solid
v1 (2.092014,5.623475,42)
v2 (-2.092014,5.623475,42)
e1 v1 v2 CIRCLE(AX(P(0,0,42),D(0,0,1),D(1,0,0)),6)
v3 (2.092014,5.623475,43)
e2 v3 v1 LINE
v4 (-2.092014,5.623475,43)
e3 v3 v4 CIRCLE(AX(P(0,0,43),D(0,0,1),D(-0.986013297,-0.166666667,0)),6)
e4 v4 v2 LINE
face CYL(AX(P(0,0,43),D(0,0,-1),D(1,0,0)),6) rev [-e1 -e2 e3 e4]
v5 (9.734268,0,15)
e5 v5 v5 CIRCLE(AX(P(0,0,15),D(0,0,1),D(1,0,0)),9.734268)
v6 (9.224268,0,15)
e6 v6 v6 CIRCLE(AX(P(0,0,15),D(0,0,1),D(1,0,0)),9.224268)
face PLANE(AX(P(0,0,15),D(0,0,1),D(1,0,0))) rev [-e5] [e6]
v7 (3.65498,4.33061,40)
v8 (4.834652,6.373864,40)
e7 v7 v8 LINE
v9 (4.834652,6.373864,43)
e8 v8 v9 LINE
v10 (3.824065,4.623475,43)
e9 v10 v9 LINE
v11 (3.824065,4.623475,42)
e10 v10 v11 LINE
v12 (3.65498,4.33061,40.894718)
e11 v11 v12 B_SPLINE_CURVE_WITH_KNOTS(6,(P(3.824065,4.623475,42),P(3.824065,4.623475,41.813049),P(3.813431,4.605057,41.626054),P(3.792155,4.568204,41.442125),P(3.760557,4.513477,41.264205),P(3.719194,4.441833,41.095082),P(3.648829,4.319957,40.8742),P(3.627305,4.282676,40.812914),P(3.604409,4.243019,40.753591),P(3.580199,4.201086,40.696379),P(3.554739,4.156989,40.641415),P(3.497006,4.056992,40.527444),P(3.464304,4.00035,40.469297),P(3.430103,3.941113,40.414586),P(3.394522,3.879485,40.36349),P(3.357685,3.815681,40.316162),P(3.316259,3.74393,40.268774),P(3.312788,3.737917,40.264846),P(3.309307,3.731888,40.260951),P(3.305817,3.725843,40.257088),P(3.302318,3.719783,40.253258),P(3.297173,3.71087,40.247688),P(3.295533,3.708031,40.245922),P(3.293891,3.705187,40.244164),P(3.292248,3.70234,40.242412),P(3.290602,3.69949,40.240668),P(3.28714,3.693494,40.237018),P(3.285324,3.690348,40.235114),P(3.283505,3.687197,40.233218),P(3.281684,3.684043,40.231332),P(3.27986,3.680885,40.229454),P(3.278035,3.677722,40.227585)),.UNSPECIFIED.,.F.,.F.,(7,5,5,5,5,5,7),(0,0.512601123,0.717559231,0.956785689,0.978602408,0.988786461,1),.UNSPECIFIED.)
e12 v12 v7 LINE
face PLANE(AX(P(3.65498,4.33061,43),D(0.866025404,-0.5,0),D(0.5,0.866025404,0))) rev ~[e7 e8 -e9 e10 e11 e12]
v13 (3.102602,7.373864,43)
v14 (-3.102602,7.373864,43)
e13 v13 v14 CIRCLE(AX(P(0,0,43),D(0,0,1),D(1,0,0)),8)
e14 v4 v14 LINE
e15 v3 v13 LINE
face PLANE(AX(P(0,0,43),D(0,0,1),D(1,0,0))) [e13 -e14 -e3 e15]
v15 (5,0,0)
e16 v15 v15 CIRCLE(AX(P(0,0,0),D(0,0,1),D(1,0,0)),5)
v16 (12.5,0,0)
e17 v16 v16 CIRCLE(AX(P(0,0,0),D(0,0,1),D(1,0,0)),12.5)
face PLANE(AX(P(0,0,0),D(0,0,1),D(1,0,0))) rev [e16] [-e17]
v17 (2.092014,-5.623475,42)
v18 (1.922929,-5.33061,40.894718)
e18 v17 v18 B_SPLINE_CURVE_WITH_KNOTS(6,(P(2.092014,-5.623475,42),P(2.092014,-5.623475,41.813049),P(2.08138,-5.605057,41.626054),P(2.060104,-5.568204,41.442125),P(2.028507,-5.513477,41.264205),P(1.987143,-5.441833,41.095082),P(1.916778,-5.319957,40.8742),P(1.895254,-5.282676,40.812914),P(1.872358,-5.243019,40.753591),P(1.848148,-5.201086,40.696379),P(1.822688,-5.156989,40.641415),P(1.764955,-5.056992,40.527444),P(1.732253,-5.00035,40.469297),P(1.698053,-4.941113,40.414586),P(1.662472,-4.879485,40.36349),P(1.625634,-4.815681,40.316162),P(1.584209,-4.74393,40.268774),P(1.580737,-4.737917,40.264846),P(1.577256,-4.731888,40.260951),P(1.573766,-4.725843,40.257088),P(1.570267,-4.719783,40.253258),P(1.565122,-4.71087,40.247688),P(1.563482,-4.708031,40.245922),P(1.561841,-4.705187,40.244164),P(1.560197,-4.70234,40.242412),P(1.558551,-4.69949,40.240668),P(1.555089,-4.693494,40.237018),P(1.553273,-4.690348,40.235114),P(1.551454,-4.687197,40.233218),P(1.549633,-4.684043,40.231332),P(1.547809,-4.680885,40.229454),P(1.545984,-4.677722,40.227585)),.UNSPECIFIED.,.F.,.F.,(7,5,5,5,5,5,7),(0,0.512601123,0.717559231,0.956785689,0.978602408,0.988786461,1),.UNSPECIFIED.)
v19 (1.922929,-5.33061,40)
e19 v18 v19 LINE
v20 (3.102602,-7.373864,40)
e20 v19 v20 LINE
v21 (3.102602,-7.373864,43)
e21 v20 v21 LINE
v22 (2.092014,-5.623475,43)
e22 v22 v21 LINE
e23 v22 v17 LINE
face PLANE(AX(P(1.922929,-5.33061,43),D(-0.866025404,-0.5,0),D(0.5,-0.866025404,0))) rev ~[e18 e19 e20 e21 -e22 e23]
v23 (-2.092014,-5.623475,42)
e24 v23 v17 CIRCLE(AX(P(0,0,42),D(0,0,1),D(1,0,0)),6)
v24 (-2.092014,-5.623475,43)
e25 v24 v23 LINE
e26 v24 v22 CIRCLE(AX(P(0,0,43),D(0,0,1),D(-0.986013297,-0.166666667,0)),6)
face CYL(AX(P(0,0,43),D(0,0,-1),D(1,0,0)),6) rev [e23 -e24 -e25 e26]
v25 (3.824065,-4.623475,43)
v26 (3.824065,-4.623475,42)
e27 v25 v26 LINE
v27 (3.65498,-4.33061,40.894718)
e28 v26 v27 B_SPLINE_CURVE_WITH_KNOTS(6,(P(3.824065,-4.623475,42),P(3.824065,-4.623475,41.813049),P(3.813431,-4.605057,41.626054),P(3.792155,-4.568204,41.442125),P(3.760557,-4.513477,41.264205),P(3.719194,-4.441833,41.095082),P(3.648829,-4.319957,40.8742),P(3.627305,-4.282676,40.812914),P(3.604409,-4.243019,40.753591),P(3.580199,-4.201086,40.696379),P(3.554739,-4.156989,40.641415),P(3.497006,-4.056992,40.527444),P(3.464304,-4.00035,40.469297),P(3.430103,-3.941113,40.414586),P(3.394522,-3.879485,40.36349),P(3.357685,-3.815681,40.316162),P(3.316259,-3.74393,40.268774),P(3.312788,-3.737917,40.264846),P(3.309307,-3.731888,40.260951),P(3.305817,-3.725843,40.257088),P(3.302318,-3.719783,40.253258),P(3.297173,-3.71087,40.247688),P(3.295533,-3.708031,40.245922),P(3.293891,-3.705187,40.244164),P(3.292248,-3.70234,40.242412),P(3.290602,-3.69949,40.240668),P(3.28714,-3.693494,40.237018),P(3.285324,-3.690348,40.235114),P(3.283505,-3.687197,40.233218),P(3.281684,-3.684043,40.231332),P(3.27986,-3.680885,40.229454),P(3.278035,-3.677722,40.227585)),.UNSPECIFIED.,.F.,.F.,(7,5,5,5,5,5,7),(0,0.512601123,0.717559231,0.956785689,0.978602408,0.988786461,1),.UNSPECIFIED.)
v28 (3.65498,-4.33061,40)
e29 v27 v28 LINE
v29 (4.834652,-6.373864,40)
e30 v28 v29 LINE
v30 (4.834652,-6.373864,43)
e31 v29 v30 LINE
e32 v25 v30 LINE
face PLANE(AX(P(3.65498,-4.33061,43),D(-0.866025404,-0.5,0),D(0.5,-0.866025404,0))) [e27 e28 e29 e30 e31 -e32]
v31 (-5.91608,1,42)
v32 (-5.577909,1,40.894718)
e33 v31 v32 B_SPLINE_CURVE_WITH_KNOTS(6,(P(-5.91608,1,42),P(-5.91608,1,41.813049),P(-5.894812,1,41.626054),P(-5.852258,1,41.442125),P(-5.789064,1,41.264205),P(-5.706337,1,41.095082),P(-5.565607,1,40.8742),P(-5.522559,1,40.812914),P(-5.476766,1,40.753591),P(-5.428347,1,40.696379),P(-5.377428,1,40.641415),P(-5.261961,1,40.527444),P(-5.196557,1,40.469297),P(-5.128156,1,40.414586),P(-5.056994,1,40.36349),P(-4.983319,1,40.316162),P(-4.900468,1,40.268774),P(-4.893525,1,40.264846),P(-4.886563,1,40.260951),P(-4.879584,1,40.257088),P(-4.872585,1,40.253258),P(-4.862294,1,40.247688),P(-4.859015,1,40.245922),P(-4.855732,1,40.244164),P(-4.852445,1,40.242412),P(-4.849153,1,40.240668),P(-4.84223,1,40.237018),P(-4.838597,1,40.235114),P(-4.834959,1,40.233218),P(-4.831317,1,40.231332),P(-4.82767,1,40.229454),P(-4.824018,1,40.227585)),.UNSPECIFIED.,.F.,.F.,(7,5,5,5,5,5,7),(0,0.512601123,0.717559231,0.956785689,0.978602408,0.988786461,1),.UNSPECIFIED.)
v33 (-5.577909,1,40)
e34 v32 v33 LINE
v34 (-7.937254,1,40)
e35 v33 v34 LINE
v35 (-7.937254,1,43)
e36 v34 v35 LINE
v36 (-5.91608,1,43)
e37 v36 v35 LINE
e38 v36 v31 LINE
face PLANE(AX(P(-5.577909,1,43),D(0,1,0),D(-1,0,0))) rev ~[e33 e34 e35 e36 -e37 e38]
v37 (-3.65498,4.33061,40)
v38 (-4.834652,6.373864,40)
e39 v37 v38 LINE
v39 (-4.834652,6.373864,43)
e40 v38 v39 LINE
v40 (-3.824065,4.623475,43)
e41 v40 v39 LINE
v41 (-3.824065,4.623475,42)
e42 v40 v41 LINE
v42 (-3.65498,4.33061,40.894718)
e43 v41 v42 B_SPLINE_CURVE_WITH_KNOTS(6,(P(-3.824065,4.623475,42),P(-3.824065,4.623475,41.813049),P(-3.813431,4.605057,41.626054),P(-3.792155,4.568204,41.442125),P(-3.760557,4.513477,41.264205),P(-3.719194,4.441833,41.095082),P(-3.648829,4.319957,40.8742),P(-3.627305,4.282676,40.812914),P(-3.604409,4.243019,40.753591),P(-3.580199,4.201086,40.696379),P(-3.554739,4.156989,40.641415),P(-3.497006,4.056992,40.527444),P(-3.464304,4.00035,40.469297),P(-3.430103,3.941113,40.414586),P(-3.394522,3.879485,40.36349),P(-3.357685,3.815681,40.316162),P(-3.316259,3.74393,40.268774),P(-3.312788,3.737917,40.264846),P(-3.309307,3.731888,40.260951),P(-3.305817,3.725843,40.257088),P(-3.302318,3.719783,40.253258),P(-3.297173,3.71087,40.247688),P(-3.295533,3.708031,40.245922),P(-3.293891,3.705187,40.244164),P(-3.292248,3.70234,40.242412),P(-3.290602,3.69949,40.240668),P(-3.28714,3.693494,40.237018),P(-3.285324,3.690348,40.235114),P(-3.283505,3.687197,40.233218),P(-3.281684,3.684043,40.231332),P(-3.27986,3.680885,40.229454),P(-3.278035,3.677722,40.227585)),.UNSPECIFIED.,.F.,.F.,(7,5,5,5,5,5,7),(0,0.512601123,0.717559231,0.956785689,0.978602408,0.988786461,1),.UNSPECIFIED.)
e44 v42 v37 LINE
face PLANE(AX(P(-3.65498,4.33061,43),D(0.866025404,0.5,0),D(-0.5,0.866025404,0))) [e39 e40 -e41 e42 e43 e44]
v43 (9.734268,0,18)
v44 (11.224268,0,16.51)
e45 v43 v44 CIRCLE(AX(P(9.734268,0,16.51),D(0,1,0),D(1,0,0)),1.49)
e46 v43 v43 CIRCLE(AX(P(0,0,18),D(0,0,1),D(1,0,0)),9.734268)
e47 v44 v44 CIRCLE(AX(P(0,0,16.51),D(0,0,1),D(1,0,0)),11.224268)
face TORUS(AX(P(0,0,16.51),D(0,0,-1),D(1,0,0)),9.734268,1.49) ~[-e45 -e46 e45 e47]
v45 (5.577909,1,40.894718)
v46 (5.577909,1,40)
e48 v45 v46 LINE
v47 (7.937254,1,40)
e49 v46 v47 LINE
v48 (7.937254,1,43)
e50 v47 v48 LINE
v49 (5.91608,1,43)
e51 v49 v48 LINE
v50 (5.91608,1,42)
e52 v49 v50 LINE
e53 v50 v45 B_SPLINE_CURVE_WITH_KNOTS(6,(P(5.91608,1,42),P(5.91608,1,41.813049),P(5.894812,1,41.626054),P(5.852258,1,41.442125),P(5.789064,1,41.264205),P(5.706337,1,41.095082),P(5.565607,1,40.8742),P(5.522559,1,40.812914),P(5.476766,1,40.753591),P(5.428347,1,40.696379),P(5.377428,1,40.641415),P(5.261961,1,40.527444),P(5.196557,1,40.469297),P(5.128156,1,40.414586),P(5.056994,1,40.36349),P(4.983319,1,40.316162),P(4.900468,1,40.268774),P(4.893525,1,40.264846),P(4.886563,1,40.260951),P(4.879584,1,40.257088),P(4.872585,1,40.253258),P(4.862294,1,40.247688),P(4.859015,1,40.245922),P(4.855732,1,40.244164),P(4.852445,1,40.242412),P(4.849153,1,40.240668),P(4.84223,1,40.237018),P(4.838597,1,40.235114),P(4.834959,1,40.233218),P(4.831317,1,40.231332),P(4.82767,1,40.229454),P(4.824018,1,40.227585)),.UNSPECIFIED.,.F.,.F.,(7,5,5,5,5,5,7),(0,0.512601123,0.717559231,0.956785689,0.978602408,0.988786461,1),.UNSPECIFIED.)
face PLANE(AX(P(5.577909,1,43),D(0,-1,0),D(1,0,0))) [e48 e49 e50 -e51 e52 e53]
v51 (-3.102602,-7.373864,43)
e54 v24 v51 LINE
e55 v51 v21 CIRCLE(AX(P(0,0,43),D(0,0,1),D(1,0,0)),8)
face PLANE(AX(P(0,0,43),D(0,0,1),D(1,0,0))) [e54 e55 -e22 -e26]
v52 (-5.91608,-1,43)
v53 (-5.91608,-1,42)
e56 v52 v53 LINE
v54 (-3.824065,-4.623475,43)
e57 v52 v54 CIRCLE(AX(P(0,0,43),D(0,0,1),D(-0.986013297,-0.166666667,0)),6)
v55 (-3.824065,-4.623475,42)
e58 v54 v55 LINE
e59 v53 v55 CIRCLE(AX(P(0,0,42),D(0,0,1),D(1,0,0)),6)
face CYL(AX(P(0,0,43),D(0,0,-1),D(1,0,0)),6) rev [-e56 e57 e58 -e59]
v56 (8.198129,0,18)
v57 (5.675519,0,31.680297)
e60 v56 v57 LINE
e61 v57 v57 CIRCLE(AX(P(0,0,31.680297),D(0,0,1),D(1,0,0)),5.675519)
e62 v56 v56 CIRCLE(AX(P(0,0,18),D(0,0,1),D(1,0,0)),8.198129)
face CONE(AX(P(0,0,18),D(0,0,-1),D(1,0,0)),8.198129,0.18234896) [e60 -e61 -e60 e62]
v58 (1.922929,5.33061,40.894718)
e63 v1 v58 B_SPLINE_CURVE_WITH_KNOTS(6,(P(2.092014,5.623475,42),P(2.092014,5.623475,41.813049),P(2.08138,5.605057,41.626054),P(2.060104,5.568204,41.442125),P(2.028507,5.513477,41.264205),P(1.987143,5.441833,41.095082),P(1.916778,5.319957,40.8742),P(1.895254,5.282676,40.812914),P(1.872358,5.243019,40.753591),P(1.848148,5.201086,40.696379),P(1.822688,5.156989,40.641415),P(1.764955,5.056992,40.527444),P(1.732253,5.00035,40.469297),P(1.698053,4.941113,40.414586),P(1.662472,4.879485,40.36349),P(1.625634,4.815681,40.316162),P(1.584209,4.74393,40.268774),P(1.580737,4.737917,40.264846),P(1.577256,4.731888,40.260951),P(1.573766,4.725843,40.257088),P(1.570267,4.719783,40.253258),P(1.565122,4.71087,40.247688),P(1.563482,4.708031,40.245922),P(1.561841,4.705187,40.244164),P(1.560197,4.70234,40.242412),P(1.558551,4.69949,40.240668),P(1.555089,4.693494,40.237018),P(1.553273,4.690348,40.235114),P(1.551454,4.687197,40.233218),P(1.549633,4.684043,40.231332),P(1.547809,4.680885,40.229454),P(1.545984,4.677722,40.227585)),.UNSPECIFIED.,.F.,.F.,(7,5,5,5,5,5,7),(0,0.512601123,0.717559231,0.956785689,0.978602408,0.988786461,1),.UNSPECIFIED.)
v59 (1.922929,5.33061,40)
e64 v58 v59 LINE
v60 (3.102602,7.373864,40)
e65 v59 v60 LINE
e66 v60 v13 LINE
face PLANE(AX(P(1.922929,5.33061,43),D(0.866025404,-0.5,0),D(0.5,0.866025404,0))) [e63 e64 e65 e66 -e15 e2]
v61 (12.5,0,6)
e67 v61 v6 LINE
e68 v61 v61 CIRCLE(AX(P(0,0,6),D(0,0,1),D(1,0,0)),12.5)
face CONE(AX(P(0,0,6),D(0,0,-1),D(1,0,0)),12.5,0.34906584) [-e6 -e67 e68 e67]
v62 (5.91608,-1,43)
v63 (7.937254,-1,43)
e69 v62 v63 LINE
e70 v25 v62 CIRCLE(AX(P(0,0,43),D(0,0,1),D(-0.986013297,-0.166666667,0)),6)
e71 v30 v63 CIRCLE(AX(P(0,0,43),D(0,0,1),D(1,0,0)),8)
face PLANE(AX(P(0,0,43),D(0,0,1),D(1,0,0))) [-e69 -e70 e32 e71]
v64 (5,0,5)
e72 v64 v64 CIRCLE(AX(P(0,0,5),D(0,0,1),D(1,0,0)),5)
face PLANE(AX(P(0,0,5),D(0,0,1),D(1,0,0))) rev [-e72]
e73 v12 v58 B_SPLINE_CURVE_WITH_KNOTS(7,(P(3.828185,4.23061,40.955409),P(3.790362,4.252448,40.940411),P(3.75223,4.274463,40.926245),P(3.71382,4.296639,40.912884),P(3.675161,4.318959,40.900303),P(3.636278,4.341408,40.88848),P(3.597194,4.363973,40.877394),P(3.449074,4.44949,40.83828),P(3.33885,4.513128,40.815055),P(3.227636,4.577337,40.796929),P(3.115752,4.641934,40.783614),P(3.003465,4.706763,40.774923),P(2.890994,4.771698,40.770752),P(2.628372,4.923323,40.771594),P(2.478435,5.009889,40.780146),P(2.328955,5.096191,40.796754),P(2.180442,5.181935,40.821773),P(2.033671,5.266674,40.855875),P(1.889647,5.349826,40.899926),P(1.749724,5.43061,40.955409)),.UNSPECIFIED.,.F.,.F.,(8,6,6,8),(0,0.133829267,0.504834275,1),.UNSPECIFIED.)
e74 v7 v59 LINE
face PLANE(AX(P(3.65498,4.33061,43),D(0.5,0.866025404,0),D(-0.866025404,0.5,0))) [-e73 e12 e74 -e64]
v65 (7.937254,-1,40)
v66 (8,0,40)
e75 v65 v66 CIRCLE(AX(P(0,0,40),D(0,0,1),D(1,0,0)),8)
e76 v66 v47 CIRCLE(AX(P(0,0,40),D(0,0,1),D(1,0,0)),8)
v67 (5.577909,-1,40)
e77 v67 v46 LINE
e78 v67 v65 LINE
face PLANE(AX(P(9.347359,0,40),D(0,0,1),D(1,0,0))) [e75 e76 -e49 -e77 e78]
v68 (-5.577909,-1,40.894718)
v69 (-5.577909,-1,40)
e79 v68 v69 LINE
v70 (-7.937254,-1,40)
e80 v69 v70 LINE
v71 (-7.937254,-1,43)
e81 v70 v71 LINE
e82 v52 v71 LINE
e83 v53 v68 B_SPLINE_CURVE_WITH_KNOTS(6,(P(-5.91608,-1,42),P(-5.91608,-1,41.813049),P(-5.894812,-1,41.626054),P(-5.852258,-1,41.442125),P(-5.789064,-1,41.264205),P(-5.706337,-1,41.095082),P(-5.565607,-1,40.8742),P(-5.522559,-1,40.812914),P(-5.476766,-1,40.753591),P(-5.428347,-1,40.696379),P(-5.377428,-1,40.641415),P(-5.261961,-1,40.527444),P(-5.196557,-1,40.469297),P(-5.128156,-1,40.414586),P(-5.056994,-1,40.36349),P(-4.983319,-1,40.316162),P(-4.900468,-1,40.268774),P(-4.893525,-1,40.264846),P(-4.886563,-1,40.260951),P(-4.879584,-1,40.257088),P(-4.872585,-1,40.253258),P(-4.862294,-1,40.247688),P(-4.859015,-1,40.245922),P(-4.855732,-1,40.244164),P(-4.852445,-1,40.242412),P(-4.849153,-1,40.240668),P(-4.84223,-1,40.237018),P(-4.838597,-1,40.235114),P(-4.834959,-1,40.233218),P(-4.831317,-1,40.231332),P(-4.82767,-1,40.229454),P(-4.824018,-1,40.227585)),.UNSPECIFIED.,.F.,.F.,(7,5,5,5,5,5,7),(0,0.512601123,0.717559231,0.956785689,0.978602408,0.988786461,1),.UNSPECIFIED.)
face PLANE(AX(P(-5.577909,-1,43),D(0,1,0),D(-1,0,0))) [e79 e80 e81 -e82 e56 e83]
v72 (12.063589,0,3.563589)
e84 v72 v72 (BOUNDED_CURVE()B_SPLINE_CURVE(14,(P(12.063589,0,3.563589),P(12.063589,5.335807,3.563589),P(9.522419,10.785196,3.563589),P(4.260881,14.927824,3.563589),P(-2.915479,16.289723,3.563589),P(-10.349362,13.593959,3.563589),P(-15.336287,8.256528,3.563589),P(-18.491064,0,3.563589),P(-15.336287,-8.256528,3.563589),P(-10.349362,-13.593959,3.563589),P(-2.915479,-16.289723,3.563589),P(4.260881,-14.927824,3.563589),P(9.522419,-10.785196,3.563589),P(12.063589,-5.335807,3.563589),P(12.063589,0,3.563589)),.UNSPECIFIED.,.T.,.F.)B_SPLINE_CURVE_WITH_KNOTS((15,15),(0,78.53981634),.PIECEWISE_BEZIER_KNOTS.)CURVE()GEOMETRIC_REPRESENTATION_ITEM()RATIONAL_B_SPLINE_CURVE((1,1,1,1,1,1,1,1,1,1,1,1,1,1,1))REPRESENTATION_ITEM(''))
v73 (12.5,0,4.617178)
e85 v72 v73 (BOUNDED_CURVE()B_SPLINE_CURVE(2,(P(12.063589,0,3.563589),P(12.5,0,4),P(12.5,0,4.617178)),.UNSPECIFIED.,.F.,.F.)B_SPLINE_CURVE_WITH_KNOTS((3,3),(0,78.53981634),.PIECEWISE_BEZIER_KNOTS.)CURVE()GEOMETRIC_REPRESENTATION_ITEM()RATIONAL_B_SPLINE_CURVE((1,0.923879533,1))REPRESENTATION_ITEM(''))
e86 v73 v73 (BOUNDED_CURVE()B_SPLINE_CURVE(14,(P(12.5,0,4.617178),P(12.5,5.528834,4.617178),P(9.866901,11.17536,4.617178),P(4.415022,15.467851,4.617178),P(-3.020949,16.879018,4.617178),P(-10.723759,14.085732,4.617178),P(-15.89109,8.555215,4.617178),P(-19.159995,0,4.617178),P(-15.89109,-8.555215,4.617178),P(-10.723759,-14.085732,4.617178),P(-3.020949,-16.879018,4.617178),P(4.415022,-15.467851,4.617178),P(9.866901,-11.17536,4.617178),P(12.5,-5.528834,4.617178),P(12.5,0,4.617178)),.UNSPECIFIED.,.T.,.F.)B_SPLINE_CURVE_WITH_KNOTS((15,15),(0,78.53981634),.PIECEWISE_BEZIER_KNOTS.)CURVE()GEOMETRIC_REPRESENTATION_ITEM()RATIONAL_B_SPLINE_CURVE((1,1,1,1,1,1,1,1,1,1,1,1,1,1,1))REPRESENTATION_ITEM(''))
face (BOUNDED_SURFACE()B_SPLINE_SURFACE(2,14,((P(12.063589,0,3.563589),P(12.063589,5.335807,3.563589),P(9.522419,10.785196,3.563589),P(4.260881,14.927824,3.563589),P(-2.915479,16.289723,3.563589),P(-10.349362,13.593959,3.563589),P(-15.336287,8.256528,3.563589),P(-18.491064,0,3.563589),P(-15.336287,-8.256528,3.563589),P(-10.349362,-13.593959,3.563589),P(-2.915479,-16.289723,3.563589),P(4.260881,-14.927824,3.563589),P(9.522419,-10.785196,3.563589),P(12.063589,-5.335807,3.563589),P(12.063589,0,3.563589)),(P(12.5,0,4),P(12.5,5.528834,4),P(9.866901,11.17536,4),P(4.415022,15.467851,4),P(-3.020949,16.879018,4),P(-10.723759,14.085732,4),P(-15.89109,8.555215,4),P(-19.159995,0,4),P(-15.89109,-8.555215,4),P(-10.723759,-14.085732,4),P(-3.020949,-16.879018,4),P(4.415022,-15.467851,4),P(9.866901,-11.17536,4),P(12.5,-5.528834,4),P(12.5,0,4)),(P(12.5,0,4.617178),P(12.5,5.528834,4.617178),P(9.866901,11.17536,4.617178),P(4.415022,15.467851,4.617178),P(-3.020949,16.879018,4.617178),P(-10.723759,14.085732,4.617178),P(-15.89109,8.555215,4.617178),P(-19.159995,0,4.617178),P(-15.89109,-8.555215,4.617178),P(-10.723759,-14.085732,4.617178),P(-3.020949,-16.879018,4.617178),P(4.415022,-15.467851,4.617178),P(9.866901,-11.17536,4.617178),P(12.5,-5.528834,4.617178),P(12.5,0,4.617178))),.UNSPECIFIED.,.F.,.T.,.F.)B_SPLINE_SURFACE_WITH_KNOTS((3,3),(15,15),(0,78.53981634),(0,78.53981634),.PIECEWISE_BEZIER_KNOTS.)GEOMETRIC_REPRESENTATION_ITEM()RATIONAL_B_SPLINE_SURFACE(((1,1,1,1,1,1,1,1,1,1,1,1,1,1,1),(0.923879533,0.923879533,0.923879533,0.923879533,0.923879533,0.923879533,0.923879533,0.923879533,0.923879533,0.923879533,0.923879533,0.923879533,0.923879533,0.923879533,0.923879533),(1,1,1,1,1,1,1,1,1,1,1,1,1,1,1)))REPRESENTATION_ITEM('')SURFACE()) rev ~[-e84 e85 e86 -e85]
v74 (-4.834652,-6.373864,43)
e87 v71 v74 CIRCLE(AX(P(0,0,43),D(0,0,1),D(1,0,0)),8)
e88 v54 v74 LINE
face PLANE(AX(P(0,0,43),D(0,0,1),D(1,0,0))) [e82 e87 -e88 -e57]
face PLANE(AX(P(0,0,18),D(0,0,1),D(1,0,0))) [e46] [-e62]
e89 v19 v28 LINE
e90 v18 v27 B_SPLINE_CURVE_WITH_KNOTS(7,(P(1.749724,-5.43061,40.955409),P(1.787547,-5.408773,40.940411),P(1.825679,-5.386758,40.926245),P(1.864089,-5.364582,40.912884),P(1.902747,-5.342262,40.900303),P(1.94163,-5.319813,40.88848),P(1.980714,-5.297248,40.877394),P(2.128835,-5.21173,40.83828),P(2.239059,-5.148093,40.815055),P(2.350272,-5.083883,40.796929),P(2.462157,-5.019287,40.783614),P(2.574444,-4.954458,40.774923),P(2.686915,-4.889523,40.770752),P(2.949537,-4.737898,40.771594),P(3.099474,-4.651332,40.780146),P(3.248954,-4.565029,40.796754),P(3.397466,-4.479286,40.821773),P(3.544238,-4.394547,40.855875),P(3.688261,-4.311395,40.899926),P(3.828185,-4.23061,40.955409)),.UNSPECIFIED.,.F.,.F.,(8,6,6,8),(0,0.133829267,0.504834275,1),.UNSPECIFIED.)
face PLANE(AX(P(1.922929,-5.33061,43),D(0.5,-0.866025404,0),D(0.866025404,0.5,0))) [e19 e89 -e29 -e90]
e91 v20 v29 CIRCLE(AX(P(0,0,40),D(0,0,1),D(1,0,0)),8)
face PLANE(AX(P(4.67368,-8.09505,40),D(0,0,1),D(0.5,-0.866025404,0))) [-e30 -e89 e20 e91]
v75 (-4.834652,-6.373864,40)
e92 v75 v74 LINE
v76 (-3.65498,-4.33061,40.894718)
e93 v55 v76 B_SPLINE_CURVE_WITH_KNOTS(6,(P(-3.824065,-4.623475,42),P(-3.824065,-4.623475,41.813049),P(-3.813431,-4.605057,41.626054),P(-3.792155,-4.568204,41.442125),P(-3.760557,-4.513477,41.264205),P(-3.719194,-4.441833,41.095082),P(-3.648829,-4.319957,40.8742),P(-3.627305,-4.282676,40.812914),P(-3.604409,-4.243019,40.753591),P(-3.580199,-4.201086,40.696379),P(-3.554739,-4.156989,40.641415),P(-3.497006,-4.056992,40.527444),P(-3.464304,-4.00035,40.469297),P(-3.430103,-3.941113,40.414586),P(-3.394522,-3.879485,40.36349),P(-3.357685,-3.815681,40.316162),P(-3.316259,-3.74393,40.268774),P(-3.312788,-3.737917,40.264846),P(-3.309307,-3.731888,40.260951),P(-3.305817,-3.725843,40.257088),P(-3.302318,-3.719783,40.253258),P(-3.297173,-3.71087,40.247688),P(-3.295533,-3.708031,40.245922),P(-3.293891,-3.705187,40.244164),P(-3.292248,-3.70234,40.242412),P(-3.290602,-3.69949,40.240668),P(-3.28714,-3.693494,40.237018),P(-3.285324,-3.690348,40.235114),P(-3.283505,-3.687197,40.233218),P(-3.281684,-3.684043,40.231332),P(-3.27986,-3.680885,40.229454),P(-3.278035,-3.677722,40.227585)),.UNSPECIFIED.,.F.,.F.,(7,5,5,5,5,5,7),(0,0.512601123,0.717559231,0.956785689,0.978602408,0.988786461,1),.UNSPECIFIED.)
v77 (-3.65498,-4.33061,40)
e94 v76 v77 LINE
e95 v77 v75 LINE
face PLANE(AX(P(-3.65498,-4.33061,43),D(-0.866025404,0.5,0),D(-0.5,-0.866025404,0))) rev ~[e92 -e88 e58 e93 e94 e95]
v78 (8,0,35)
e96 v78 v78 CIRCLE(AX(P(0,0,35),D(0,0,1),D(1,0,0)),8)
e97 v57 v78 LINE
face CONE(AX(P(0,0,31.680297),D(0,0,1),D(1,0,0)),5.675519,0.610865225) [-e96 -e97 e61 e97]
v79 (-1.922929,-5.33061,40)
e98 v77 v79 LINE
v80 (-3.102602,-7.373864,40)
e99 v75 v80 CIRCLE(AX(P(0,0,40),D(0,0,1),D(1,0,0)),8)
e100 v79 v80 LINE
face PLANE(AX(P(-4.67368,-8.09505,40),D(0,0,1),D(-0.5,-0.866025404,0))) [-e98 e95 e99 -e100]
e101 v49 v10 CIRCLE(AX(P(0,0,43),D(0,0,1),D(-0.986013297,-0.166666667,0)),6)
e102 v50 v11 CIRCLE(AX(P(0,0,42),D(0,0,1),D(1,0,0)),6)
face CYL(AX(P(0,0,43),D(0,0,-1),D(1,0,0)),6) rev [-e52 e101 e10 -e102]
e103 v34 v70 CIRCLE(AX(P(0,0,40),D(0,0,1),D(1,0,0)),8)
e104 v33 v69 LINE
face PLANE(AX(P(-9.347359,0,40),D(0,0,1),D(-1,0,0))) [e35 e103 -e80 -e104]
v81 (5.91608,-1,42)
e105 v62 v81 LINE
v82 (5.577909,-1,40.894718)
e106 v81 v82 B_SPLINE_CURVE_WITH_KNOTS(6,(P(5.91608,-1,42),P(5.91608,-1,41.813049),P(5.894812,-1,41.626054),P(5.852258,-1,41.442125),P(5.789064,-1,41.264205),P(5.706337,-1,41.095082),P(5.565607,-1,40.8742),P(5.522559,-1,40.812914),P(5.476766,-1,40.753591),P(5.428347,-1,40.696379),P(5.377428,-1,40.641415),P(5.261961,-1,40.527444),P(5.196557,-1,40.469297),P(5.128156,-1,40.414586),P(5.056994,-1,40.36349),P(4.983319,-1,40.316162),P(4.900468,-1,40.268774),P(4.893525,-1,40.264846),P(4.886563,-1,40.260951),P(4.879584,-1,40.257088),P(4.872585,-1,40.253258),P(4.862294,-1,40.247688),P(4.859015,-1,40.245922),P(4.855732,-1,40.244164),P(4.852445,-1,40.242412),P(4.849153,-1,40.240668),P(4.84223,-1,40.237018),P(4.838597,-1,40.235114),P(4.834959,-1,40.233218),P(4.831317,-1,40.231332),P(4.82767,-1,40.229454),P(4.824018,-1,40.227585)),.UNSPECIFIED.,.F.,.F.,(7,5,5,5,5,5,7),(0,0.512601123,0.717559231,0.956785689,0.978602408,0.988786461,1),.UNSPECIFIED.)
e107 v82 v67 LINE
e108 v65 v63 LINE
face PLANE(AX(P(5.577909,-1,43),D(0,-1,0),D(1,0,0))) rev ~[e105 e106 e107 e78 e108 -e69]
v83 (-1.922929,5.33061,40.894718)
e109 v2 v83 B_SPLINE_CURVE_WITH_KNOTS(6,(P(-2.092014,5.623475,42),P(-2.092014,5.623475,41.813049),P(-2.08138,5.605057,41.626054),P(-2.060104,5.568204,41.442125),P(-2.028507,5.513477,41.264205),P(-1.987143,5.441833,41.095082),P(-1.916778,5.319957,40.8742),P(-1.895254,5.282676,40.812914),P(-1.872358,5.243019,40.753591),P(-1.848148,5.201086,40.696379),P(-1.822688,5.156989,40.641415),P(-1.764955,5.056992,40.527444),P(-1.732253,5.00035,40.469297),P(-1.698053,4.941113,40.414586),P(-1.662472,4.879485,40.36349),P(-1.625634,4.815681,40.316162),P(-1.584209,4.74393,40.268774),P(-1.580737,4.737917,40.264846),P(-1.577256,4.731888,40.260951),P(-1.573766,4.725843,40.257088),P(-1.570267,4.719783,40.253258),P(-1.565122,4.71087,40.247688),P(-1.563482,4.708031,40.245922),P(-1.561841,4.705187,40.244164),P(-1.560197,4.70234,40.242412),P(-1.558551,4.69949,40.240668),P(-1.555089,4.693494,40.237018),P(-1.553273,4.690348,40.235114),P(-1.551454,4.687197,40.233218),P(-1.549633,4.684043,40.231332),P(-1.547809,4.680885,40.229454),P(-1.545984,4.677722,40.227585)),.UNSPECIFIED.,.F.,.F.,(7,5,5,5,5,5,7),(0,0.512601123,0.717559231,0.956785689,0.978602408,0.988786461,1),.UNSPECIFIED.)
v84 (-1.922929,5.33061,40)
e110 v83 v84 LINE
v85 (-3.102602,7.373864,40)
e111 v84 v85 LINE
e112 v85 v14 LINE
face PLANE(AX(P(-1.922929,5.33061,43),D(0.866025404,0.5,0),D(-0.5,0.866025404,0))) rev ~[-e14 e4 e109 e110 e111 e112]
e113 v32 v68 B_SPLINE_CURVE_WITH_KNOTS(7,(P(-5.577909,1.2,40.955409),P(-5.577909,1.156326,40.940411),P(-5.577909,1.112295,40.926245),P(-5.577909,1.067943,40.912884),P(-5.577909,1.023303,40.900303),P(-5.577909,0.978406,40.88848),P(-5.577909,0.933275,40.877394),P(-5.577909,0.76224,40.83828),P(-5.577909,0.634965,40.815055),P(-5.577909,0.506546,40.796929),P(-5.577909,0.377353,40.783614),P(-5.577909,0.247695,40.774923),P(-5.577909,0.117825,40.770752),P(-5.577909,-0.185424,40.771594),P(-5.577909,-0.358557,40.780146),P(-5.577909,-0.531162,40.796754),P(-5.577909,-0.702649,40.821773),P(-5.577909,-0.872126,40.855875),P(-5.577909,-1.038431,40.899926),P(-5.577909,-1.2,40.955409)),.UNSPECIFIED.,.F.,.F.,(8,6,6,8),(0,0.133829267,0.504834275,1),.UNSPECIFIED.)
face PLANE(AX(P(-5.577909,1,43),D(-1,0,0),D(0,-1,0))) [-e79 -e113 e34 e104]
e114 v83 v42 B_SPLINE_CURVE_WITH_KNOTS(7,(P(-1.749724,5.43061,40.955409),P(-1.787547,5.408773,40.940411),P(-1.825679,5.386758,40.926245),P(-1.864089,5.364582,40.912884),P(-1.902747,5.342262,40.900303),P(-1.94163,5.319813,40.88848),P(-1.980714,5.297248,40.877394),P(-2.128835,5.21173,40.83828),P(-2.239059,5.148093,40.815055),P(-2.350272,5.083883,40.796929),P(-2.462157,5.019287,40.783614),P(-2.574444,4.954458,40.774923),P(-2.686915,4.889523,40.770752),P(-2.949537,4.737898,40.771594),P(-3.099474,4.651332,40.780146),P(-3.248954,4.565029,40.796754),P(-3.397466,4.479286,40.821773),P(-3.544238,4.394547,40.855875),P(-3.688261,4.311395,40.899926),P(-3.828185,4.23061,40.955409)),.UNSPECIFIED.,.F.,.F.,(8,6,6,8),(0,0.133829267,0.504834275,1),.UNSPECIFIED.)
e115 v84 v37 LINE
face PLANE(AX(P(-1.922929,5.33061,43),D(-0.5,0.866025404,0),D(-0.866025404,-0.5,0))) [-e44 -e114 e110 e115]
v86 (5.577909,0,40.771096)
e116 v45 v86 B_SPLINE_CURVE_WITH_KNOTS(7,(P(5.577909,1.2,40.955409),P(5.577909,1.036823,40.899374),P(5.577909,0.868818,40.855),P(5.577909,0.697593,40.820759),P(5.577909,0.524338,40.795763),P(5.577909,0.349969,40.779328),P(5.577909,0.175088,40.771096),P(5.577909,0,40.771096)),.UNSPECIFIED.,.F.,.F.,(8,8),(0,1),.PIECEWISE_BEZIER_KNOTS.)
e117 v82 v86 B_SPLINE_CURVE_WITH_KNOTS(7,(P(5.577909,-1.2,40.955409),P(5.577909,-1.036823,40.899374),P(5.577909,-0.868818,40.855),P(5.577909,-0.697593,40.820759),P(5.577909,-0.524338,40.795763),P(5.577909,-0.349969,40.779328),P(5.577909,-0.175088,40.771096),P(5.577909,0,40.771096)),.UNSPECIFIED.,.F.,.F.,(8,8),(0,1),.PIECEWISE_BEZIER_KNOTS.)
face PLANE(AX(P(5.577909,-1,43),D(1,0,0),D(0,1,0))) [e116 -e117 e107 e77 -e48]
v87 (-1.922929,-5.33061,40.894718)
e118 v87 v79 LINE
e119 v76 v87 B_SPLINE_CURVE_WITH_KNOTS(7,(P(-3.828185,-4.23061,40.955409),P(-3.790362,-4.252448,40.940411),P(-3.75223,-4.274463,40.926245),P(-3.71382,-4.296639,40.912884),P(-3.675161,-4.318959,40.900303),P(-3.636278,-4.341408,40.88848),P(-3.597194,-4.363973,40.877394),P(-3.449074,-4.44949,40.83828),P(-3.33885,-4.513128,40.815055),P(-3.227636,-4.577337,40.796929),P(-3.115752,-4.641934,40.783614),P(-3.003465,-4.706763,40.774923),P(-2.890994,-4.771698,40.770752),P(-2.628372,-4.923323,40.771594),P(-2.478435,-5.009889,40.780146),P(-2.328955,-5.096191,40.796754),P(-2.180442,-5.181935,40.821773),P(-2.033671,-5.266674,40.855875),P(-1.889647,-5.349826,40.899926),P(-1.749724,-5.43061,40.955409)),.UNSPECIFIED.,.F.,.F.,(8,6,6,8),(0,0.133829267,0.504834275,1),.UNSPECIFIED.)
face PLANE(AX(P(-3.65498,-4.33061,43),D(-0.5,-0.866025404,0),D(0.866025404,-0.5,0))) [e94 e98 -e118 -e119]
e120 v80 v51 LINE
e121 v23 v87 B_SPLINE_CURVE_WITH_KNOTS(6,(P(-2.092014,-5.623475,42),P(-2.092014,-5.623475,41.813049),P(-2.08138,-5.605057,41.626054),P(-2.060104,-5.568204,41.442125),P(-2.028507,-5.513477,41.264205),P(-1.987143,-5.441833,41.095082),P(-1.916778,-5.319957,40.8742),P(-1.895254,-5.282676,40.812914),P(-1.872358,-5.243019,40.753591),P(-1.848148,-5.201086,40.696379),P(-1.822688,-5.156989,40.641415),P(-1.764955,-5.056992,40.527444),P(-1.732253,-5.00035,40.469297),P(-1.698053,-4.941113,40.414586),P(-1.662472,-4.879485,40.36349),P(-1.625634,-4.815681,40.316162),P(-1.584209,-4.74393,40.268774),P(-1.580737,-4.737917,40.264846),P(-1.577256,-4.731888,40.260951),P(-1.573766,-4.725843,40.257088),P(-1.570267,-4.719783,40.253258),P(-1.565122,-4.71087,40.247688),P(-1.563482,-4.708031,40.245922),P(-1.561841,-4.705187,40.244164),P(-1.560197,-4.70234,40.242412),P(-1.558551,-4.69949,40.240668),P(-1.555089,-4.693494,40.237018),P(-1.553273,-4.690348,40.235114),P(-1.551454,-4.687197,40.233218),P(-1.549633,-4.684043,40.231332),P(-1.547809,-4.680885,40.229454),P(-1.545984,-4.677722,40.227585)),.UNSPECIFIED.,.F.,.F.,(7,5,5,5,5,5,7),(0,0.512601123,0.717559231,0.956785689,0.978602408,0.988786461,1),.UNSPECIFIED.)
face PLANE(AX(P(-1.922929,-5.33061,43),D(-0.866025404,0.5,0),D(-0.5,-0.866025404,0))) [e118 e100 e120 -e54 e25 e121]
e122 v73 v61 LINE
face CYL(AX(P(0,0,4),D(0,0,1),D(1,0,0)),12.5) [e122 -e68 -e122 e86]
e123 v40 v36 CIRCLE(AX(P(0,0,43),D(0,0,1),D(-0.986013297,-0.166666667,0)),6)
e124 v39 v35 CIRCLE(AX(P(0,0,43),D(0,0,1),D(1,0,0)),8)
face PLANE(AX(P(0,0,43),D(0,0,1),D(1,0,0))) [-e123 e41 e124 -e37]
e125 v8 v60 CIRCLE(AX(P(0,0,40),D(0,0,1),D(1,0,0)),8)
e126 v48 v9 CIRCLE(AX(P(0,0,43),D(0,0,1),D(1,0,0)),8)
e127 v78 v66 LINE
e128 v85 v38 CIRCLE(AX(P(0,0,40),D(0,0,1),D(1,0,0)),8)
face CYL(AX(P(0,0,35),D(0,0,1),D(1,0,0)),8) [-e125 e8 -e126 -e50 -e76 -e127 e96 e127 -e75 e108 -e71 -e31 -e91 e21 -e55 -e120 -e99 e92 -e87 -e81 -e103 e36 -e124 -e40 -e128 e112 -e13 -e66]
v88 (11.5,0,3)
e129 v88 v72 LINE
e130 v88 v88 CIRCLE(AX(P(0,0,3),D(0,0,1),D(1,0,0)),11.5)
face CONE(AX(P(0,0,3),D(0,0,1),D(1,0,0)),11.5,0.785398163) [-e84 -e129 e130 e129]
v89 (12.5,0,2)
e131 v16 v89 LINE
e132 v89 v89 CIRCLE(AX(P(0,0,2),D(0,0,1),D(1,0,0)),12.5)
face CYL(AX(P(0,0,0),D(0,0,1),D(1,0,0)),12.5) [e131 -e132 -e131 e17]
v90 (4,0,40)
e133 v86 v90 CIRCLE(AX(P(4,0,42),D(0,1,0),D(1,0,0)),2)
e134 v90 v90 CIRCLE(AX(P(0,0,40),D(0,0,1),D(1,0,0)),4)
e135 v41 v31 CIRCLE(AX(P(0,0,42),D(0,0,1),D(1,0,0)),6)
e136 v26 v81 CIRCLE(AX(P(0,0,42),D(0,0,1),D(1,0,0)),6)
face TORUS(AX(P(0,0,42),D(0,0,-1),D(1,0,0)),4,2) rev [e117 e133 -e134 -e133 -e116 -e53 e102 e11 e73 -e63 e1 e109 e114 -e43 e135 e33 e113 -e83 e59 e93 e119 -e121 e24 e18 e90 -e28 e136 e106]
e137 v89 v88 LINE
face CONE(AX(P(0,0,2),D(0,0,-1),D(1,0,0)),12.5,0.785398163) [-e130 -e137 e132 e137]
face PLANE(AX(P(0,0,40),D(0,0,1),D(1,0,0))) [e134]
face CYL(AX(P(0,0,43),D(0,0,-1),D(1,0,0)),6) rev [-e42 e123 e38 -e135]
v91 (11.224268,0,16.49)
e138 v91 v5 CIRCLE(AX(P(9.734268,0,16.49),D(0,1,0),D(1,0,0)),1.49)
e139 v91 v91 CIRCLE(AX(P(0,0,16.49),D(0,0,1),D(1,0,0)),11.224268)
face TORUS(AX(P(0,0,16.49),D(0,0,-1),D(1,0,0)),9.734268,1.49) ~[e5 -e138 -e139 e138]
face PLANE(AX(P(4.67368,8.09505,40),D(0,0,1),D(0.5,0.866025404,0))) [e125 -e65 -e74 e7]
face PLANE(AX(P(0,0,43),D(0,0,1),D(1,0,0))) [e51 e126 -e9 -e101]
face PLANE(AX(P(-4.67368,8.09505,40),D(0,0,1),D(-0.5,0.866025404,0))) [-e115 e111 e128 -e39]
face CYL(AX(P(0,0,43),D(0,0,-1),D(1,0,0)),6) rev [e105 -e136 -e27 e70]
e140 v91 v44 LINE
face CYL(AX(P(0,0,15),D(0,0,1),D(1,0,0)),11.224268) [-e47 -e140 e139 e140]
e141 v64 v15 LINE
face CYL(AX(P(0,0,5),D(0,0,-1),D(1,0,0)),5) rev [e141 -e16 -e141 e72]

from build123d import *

# Parameters (mm, degrees)
FILLET002_R        = 1.49
FILLET003_R        = 2
SKETCH006_W        = 7.538901
SKETCH006_H        = 2
POCKET_DEPTH       = 3
POLARPATTERN_COUNT = 6
FILLET017_R        = 1.49


with BuildPart() as part:
    # Sketch001 → Revolution001 (revolve)
    with BuildSketch(Plane.XZ):
        Polygon((0, 5), (5, 5), (5, 0), (12.5, 0), (12.5, 2), (11.5, 3), (12.5, 4), (12.5, 6), (9.224268, 15), (11.224268, 15), (11.224268, 18), (8.198129, 18), (5.675519, 31.680297), (8, 35), (8, 43), (6, 43), (6, 40), (0, 40), align=None)
    revolve(axis=Axis((0, 0, 0), (0, 0, 1)))

    # Fillet002
    fillet002_edges = [part.edges().sort_by_distance(p)[0] for p in [
        (12, 0, 3.5),
        (-12.5, 0, 4),
    ]]
    fillet(fillet002_edges, radius=FILLET002_R)

    # Fillet003
    fillet003_edges = [part.edges().sort_by_distance(p)[0] for p in [
        (-6, 0, 40),
    ]]
    fillet(fillet003_edges, radius=FILLET003_R)

    # Sketch006 → Pocket (cut)
    with BuildSketch(Plane(origin=(0, 0, 43), x_dir=(-1, 0, 0), z_dir=(0, 0, 1))):
        with Locations((9.347359, 0)):
            Rectangle(SKETCH006_W, SKETCH006_H)
    pocket = extrude(amount=-POCKET_DEPTH, mode=Mode.SUBTRACT)

    # PolarPattern: Pocket ×6 about axis
    polarpattern_axis = Axis((0, 0, 43), (0, 0, 1))
    for i in range(1, POLARPATTERN_COUNT):
        add(pocket.rotate(polarpattern_axis, i * 360 / POLARPATTERN_COUNT), mode=Mode.SUBTRACT)

    # Fillet017
    fillet017_edges = [part.edges().sort_by_distance(p)[0] for p in [
        (-11.224268, 0, 18),
        (-11.224268, 0, 15),
    ]]
    fillet(fillet017_edges, radius=FILLET017_R)


solid = part.part
